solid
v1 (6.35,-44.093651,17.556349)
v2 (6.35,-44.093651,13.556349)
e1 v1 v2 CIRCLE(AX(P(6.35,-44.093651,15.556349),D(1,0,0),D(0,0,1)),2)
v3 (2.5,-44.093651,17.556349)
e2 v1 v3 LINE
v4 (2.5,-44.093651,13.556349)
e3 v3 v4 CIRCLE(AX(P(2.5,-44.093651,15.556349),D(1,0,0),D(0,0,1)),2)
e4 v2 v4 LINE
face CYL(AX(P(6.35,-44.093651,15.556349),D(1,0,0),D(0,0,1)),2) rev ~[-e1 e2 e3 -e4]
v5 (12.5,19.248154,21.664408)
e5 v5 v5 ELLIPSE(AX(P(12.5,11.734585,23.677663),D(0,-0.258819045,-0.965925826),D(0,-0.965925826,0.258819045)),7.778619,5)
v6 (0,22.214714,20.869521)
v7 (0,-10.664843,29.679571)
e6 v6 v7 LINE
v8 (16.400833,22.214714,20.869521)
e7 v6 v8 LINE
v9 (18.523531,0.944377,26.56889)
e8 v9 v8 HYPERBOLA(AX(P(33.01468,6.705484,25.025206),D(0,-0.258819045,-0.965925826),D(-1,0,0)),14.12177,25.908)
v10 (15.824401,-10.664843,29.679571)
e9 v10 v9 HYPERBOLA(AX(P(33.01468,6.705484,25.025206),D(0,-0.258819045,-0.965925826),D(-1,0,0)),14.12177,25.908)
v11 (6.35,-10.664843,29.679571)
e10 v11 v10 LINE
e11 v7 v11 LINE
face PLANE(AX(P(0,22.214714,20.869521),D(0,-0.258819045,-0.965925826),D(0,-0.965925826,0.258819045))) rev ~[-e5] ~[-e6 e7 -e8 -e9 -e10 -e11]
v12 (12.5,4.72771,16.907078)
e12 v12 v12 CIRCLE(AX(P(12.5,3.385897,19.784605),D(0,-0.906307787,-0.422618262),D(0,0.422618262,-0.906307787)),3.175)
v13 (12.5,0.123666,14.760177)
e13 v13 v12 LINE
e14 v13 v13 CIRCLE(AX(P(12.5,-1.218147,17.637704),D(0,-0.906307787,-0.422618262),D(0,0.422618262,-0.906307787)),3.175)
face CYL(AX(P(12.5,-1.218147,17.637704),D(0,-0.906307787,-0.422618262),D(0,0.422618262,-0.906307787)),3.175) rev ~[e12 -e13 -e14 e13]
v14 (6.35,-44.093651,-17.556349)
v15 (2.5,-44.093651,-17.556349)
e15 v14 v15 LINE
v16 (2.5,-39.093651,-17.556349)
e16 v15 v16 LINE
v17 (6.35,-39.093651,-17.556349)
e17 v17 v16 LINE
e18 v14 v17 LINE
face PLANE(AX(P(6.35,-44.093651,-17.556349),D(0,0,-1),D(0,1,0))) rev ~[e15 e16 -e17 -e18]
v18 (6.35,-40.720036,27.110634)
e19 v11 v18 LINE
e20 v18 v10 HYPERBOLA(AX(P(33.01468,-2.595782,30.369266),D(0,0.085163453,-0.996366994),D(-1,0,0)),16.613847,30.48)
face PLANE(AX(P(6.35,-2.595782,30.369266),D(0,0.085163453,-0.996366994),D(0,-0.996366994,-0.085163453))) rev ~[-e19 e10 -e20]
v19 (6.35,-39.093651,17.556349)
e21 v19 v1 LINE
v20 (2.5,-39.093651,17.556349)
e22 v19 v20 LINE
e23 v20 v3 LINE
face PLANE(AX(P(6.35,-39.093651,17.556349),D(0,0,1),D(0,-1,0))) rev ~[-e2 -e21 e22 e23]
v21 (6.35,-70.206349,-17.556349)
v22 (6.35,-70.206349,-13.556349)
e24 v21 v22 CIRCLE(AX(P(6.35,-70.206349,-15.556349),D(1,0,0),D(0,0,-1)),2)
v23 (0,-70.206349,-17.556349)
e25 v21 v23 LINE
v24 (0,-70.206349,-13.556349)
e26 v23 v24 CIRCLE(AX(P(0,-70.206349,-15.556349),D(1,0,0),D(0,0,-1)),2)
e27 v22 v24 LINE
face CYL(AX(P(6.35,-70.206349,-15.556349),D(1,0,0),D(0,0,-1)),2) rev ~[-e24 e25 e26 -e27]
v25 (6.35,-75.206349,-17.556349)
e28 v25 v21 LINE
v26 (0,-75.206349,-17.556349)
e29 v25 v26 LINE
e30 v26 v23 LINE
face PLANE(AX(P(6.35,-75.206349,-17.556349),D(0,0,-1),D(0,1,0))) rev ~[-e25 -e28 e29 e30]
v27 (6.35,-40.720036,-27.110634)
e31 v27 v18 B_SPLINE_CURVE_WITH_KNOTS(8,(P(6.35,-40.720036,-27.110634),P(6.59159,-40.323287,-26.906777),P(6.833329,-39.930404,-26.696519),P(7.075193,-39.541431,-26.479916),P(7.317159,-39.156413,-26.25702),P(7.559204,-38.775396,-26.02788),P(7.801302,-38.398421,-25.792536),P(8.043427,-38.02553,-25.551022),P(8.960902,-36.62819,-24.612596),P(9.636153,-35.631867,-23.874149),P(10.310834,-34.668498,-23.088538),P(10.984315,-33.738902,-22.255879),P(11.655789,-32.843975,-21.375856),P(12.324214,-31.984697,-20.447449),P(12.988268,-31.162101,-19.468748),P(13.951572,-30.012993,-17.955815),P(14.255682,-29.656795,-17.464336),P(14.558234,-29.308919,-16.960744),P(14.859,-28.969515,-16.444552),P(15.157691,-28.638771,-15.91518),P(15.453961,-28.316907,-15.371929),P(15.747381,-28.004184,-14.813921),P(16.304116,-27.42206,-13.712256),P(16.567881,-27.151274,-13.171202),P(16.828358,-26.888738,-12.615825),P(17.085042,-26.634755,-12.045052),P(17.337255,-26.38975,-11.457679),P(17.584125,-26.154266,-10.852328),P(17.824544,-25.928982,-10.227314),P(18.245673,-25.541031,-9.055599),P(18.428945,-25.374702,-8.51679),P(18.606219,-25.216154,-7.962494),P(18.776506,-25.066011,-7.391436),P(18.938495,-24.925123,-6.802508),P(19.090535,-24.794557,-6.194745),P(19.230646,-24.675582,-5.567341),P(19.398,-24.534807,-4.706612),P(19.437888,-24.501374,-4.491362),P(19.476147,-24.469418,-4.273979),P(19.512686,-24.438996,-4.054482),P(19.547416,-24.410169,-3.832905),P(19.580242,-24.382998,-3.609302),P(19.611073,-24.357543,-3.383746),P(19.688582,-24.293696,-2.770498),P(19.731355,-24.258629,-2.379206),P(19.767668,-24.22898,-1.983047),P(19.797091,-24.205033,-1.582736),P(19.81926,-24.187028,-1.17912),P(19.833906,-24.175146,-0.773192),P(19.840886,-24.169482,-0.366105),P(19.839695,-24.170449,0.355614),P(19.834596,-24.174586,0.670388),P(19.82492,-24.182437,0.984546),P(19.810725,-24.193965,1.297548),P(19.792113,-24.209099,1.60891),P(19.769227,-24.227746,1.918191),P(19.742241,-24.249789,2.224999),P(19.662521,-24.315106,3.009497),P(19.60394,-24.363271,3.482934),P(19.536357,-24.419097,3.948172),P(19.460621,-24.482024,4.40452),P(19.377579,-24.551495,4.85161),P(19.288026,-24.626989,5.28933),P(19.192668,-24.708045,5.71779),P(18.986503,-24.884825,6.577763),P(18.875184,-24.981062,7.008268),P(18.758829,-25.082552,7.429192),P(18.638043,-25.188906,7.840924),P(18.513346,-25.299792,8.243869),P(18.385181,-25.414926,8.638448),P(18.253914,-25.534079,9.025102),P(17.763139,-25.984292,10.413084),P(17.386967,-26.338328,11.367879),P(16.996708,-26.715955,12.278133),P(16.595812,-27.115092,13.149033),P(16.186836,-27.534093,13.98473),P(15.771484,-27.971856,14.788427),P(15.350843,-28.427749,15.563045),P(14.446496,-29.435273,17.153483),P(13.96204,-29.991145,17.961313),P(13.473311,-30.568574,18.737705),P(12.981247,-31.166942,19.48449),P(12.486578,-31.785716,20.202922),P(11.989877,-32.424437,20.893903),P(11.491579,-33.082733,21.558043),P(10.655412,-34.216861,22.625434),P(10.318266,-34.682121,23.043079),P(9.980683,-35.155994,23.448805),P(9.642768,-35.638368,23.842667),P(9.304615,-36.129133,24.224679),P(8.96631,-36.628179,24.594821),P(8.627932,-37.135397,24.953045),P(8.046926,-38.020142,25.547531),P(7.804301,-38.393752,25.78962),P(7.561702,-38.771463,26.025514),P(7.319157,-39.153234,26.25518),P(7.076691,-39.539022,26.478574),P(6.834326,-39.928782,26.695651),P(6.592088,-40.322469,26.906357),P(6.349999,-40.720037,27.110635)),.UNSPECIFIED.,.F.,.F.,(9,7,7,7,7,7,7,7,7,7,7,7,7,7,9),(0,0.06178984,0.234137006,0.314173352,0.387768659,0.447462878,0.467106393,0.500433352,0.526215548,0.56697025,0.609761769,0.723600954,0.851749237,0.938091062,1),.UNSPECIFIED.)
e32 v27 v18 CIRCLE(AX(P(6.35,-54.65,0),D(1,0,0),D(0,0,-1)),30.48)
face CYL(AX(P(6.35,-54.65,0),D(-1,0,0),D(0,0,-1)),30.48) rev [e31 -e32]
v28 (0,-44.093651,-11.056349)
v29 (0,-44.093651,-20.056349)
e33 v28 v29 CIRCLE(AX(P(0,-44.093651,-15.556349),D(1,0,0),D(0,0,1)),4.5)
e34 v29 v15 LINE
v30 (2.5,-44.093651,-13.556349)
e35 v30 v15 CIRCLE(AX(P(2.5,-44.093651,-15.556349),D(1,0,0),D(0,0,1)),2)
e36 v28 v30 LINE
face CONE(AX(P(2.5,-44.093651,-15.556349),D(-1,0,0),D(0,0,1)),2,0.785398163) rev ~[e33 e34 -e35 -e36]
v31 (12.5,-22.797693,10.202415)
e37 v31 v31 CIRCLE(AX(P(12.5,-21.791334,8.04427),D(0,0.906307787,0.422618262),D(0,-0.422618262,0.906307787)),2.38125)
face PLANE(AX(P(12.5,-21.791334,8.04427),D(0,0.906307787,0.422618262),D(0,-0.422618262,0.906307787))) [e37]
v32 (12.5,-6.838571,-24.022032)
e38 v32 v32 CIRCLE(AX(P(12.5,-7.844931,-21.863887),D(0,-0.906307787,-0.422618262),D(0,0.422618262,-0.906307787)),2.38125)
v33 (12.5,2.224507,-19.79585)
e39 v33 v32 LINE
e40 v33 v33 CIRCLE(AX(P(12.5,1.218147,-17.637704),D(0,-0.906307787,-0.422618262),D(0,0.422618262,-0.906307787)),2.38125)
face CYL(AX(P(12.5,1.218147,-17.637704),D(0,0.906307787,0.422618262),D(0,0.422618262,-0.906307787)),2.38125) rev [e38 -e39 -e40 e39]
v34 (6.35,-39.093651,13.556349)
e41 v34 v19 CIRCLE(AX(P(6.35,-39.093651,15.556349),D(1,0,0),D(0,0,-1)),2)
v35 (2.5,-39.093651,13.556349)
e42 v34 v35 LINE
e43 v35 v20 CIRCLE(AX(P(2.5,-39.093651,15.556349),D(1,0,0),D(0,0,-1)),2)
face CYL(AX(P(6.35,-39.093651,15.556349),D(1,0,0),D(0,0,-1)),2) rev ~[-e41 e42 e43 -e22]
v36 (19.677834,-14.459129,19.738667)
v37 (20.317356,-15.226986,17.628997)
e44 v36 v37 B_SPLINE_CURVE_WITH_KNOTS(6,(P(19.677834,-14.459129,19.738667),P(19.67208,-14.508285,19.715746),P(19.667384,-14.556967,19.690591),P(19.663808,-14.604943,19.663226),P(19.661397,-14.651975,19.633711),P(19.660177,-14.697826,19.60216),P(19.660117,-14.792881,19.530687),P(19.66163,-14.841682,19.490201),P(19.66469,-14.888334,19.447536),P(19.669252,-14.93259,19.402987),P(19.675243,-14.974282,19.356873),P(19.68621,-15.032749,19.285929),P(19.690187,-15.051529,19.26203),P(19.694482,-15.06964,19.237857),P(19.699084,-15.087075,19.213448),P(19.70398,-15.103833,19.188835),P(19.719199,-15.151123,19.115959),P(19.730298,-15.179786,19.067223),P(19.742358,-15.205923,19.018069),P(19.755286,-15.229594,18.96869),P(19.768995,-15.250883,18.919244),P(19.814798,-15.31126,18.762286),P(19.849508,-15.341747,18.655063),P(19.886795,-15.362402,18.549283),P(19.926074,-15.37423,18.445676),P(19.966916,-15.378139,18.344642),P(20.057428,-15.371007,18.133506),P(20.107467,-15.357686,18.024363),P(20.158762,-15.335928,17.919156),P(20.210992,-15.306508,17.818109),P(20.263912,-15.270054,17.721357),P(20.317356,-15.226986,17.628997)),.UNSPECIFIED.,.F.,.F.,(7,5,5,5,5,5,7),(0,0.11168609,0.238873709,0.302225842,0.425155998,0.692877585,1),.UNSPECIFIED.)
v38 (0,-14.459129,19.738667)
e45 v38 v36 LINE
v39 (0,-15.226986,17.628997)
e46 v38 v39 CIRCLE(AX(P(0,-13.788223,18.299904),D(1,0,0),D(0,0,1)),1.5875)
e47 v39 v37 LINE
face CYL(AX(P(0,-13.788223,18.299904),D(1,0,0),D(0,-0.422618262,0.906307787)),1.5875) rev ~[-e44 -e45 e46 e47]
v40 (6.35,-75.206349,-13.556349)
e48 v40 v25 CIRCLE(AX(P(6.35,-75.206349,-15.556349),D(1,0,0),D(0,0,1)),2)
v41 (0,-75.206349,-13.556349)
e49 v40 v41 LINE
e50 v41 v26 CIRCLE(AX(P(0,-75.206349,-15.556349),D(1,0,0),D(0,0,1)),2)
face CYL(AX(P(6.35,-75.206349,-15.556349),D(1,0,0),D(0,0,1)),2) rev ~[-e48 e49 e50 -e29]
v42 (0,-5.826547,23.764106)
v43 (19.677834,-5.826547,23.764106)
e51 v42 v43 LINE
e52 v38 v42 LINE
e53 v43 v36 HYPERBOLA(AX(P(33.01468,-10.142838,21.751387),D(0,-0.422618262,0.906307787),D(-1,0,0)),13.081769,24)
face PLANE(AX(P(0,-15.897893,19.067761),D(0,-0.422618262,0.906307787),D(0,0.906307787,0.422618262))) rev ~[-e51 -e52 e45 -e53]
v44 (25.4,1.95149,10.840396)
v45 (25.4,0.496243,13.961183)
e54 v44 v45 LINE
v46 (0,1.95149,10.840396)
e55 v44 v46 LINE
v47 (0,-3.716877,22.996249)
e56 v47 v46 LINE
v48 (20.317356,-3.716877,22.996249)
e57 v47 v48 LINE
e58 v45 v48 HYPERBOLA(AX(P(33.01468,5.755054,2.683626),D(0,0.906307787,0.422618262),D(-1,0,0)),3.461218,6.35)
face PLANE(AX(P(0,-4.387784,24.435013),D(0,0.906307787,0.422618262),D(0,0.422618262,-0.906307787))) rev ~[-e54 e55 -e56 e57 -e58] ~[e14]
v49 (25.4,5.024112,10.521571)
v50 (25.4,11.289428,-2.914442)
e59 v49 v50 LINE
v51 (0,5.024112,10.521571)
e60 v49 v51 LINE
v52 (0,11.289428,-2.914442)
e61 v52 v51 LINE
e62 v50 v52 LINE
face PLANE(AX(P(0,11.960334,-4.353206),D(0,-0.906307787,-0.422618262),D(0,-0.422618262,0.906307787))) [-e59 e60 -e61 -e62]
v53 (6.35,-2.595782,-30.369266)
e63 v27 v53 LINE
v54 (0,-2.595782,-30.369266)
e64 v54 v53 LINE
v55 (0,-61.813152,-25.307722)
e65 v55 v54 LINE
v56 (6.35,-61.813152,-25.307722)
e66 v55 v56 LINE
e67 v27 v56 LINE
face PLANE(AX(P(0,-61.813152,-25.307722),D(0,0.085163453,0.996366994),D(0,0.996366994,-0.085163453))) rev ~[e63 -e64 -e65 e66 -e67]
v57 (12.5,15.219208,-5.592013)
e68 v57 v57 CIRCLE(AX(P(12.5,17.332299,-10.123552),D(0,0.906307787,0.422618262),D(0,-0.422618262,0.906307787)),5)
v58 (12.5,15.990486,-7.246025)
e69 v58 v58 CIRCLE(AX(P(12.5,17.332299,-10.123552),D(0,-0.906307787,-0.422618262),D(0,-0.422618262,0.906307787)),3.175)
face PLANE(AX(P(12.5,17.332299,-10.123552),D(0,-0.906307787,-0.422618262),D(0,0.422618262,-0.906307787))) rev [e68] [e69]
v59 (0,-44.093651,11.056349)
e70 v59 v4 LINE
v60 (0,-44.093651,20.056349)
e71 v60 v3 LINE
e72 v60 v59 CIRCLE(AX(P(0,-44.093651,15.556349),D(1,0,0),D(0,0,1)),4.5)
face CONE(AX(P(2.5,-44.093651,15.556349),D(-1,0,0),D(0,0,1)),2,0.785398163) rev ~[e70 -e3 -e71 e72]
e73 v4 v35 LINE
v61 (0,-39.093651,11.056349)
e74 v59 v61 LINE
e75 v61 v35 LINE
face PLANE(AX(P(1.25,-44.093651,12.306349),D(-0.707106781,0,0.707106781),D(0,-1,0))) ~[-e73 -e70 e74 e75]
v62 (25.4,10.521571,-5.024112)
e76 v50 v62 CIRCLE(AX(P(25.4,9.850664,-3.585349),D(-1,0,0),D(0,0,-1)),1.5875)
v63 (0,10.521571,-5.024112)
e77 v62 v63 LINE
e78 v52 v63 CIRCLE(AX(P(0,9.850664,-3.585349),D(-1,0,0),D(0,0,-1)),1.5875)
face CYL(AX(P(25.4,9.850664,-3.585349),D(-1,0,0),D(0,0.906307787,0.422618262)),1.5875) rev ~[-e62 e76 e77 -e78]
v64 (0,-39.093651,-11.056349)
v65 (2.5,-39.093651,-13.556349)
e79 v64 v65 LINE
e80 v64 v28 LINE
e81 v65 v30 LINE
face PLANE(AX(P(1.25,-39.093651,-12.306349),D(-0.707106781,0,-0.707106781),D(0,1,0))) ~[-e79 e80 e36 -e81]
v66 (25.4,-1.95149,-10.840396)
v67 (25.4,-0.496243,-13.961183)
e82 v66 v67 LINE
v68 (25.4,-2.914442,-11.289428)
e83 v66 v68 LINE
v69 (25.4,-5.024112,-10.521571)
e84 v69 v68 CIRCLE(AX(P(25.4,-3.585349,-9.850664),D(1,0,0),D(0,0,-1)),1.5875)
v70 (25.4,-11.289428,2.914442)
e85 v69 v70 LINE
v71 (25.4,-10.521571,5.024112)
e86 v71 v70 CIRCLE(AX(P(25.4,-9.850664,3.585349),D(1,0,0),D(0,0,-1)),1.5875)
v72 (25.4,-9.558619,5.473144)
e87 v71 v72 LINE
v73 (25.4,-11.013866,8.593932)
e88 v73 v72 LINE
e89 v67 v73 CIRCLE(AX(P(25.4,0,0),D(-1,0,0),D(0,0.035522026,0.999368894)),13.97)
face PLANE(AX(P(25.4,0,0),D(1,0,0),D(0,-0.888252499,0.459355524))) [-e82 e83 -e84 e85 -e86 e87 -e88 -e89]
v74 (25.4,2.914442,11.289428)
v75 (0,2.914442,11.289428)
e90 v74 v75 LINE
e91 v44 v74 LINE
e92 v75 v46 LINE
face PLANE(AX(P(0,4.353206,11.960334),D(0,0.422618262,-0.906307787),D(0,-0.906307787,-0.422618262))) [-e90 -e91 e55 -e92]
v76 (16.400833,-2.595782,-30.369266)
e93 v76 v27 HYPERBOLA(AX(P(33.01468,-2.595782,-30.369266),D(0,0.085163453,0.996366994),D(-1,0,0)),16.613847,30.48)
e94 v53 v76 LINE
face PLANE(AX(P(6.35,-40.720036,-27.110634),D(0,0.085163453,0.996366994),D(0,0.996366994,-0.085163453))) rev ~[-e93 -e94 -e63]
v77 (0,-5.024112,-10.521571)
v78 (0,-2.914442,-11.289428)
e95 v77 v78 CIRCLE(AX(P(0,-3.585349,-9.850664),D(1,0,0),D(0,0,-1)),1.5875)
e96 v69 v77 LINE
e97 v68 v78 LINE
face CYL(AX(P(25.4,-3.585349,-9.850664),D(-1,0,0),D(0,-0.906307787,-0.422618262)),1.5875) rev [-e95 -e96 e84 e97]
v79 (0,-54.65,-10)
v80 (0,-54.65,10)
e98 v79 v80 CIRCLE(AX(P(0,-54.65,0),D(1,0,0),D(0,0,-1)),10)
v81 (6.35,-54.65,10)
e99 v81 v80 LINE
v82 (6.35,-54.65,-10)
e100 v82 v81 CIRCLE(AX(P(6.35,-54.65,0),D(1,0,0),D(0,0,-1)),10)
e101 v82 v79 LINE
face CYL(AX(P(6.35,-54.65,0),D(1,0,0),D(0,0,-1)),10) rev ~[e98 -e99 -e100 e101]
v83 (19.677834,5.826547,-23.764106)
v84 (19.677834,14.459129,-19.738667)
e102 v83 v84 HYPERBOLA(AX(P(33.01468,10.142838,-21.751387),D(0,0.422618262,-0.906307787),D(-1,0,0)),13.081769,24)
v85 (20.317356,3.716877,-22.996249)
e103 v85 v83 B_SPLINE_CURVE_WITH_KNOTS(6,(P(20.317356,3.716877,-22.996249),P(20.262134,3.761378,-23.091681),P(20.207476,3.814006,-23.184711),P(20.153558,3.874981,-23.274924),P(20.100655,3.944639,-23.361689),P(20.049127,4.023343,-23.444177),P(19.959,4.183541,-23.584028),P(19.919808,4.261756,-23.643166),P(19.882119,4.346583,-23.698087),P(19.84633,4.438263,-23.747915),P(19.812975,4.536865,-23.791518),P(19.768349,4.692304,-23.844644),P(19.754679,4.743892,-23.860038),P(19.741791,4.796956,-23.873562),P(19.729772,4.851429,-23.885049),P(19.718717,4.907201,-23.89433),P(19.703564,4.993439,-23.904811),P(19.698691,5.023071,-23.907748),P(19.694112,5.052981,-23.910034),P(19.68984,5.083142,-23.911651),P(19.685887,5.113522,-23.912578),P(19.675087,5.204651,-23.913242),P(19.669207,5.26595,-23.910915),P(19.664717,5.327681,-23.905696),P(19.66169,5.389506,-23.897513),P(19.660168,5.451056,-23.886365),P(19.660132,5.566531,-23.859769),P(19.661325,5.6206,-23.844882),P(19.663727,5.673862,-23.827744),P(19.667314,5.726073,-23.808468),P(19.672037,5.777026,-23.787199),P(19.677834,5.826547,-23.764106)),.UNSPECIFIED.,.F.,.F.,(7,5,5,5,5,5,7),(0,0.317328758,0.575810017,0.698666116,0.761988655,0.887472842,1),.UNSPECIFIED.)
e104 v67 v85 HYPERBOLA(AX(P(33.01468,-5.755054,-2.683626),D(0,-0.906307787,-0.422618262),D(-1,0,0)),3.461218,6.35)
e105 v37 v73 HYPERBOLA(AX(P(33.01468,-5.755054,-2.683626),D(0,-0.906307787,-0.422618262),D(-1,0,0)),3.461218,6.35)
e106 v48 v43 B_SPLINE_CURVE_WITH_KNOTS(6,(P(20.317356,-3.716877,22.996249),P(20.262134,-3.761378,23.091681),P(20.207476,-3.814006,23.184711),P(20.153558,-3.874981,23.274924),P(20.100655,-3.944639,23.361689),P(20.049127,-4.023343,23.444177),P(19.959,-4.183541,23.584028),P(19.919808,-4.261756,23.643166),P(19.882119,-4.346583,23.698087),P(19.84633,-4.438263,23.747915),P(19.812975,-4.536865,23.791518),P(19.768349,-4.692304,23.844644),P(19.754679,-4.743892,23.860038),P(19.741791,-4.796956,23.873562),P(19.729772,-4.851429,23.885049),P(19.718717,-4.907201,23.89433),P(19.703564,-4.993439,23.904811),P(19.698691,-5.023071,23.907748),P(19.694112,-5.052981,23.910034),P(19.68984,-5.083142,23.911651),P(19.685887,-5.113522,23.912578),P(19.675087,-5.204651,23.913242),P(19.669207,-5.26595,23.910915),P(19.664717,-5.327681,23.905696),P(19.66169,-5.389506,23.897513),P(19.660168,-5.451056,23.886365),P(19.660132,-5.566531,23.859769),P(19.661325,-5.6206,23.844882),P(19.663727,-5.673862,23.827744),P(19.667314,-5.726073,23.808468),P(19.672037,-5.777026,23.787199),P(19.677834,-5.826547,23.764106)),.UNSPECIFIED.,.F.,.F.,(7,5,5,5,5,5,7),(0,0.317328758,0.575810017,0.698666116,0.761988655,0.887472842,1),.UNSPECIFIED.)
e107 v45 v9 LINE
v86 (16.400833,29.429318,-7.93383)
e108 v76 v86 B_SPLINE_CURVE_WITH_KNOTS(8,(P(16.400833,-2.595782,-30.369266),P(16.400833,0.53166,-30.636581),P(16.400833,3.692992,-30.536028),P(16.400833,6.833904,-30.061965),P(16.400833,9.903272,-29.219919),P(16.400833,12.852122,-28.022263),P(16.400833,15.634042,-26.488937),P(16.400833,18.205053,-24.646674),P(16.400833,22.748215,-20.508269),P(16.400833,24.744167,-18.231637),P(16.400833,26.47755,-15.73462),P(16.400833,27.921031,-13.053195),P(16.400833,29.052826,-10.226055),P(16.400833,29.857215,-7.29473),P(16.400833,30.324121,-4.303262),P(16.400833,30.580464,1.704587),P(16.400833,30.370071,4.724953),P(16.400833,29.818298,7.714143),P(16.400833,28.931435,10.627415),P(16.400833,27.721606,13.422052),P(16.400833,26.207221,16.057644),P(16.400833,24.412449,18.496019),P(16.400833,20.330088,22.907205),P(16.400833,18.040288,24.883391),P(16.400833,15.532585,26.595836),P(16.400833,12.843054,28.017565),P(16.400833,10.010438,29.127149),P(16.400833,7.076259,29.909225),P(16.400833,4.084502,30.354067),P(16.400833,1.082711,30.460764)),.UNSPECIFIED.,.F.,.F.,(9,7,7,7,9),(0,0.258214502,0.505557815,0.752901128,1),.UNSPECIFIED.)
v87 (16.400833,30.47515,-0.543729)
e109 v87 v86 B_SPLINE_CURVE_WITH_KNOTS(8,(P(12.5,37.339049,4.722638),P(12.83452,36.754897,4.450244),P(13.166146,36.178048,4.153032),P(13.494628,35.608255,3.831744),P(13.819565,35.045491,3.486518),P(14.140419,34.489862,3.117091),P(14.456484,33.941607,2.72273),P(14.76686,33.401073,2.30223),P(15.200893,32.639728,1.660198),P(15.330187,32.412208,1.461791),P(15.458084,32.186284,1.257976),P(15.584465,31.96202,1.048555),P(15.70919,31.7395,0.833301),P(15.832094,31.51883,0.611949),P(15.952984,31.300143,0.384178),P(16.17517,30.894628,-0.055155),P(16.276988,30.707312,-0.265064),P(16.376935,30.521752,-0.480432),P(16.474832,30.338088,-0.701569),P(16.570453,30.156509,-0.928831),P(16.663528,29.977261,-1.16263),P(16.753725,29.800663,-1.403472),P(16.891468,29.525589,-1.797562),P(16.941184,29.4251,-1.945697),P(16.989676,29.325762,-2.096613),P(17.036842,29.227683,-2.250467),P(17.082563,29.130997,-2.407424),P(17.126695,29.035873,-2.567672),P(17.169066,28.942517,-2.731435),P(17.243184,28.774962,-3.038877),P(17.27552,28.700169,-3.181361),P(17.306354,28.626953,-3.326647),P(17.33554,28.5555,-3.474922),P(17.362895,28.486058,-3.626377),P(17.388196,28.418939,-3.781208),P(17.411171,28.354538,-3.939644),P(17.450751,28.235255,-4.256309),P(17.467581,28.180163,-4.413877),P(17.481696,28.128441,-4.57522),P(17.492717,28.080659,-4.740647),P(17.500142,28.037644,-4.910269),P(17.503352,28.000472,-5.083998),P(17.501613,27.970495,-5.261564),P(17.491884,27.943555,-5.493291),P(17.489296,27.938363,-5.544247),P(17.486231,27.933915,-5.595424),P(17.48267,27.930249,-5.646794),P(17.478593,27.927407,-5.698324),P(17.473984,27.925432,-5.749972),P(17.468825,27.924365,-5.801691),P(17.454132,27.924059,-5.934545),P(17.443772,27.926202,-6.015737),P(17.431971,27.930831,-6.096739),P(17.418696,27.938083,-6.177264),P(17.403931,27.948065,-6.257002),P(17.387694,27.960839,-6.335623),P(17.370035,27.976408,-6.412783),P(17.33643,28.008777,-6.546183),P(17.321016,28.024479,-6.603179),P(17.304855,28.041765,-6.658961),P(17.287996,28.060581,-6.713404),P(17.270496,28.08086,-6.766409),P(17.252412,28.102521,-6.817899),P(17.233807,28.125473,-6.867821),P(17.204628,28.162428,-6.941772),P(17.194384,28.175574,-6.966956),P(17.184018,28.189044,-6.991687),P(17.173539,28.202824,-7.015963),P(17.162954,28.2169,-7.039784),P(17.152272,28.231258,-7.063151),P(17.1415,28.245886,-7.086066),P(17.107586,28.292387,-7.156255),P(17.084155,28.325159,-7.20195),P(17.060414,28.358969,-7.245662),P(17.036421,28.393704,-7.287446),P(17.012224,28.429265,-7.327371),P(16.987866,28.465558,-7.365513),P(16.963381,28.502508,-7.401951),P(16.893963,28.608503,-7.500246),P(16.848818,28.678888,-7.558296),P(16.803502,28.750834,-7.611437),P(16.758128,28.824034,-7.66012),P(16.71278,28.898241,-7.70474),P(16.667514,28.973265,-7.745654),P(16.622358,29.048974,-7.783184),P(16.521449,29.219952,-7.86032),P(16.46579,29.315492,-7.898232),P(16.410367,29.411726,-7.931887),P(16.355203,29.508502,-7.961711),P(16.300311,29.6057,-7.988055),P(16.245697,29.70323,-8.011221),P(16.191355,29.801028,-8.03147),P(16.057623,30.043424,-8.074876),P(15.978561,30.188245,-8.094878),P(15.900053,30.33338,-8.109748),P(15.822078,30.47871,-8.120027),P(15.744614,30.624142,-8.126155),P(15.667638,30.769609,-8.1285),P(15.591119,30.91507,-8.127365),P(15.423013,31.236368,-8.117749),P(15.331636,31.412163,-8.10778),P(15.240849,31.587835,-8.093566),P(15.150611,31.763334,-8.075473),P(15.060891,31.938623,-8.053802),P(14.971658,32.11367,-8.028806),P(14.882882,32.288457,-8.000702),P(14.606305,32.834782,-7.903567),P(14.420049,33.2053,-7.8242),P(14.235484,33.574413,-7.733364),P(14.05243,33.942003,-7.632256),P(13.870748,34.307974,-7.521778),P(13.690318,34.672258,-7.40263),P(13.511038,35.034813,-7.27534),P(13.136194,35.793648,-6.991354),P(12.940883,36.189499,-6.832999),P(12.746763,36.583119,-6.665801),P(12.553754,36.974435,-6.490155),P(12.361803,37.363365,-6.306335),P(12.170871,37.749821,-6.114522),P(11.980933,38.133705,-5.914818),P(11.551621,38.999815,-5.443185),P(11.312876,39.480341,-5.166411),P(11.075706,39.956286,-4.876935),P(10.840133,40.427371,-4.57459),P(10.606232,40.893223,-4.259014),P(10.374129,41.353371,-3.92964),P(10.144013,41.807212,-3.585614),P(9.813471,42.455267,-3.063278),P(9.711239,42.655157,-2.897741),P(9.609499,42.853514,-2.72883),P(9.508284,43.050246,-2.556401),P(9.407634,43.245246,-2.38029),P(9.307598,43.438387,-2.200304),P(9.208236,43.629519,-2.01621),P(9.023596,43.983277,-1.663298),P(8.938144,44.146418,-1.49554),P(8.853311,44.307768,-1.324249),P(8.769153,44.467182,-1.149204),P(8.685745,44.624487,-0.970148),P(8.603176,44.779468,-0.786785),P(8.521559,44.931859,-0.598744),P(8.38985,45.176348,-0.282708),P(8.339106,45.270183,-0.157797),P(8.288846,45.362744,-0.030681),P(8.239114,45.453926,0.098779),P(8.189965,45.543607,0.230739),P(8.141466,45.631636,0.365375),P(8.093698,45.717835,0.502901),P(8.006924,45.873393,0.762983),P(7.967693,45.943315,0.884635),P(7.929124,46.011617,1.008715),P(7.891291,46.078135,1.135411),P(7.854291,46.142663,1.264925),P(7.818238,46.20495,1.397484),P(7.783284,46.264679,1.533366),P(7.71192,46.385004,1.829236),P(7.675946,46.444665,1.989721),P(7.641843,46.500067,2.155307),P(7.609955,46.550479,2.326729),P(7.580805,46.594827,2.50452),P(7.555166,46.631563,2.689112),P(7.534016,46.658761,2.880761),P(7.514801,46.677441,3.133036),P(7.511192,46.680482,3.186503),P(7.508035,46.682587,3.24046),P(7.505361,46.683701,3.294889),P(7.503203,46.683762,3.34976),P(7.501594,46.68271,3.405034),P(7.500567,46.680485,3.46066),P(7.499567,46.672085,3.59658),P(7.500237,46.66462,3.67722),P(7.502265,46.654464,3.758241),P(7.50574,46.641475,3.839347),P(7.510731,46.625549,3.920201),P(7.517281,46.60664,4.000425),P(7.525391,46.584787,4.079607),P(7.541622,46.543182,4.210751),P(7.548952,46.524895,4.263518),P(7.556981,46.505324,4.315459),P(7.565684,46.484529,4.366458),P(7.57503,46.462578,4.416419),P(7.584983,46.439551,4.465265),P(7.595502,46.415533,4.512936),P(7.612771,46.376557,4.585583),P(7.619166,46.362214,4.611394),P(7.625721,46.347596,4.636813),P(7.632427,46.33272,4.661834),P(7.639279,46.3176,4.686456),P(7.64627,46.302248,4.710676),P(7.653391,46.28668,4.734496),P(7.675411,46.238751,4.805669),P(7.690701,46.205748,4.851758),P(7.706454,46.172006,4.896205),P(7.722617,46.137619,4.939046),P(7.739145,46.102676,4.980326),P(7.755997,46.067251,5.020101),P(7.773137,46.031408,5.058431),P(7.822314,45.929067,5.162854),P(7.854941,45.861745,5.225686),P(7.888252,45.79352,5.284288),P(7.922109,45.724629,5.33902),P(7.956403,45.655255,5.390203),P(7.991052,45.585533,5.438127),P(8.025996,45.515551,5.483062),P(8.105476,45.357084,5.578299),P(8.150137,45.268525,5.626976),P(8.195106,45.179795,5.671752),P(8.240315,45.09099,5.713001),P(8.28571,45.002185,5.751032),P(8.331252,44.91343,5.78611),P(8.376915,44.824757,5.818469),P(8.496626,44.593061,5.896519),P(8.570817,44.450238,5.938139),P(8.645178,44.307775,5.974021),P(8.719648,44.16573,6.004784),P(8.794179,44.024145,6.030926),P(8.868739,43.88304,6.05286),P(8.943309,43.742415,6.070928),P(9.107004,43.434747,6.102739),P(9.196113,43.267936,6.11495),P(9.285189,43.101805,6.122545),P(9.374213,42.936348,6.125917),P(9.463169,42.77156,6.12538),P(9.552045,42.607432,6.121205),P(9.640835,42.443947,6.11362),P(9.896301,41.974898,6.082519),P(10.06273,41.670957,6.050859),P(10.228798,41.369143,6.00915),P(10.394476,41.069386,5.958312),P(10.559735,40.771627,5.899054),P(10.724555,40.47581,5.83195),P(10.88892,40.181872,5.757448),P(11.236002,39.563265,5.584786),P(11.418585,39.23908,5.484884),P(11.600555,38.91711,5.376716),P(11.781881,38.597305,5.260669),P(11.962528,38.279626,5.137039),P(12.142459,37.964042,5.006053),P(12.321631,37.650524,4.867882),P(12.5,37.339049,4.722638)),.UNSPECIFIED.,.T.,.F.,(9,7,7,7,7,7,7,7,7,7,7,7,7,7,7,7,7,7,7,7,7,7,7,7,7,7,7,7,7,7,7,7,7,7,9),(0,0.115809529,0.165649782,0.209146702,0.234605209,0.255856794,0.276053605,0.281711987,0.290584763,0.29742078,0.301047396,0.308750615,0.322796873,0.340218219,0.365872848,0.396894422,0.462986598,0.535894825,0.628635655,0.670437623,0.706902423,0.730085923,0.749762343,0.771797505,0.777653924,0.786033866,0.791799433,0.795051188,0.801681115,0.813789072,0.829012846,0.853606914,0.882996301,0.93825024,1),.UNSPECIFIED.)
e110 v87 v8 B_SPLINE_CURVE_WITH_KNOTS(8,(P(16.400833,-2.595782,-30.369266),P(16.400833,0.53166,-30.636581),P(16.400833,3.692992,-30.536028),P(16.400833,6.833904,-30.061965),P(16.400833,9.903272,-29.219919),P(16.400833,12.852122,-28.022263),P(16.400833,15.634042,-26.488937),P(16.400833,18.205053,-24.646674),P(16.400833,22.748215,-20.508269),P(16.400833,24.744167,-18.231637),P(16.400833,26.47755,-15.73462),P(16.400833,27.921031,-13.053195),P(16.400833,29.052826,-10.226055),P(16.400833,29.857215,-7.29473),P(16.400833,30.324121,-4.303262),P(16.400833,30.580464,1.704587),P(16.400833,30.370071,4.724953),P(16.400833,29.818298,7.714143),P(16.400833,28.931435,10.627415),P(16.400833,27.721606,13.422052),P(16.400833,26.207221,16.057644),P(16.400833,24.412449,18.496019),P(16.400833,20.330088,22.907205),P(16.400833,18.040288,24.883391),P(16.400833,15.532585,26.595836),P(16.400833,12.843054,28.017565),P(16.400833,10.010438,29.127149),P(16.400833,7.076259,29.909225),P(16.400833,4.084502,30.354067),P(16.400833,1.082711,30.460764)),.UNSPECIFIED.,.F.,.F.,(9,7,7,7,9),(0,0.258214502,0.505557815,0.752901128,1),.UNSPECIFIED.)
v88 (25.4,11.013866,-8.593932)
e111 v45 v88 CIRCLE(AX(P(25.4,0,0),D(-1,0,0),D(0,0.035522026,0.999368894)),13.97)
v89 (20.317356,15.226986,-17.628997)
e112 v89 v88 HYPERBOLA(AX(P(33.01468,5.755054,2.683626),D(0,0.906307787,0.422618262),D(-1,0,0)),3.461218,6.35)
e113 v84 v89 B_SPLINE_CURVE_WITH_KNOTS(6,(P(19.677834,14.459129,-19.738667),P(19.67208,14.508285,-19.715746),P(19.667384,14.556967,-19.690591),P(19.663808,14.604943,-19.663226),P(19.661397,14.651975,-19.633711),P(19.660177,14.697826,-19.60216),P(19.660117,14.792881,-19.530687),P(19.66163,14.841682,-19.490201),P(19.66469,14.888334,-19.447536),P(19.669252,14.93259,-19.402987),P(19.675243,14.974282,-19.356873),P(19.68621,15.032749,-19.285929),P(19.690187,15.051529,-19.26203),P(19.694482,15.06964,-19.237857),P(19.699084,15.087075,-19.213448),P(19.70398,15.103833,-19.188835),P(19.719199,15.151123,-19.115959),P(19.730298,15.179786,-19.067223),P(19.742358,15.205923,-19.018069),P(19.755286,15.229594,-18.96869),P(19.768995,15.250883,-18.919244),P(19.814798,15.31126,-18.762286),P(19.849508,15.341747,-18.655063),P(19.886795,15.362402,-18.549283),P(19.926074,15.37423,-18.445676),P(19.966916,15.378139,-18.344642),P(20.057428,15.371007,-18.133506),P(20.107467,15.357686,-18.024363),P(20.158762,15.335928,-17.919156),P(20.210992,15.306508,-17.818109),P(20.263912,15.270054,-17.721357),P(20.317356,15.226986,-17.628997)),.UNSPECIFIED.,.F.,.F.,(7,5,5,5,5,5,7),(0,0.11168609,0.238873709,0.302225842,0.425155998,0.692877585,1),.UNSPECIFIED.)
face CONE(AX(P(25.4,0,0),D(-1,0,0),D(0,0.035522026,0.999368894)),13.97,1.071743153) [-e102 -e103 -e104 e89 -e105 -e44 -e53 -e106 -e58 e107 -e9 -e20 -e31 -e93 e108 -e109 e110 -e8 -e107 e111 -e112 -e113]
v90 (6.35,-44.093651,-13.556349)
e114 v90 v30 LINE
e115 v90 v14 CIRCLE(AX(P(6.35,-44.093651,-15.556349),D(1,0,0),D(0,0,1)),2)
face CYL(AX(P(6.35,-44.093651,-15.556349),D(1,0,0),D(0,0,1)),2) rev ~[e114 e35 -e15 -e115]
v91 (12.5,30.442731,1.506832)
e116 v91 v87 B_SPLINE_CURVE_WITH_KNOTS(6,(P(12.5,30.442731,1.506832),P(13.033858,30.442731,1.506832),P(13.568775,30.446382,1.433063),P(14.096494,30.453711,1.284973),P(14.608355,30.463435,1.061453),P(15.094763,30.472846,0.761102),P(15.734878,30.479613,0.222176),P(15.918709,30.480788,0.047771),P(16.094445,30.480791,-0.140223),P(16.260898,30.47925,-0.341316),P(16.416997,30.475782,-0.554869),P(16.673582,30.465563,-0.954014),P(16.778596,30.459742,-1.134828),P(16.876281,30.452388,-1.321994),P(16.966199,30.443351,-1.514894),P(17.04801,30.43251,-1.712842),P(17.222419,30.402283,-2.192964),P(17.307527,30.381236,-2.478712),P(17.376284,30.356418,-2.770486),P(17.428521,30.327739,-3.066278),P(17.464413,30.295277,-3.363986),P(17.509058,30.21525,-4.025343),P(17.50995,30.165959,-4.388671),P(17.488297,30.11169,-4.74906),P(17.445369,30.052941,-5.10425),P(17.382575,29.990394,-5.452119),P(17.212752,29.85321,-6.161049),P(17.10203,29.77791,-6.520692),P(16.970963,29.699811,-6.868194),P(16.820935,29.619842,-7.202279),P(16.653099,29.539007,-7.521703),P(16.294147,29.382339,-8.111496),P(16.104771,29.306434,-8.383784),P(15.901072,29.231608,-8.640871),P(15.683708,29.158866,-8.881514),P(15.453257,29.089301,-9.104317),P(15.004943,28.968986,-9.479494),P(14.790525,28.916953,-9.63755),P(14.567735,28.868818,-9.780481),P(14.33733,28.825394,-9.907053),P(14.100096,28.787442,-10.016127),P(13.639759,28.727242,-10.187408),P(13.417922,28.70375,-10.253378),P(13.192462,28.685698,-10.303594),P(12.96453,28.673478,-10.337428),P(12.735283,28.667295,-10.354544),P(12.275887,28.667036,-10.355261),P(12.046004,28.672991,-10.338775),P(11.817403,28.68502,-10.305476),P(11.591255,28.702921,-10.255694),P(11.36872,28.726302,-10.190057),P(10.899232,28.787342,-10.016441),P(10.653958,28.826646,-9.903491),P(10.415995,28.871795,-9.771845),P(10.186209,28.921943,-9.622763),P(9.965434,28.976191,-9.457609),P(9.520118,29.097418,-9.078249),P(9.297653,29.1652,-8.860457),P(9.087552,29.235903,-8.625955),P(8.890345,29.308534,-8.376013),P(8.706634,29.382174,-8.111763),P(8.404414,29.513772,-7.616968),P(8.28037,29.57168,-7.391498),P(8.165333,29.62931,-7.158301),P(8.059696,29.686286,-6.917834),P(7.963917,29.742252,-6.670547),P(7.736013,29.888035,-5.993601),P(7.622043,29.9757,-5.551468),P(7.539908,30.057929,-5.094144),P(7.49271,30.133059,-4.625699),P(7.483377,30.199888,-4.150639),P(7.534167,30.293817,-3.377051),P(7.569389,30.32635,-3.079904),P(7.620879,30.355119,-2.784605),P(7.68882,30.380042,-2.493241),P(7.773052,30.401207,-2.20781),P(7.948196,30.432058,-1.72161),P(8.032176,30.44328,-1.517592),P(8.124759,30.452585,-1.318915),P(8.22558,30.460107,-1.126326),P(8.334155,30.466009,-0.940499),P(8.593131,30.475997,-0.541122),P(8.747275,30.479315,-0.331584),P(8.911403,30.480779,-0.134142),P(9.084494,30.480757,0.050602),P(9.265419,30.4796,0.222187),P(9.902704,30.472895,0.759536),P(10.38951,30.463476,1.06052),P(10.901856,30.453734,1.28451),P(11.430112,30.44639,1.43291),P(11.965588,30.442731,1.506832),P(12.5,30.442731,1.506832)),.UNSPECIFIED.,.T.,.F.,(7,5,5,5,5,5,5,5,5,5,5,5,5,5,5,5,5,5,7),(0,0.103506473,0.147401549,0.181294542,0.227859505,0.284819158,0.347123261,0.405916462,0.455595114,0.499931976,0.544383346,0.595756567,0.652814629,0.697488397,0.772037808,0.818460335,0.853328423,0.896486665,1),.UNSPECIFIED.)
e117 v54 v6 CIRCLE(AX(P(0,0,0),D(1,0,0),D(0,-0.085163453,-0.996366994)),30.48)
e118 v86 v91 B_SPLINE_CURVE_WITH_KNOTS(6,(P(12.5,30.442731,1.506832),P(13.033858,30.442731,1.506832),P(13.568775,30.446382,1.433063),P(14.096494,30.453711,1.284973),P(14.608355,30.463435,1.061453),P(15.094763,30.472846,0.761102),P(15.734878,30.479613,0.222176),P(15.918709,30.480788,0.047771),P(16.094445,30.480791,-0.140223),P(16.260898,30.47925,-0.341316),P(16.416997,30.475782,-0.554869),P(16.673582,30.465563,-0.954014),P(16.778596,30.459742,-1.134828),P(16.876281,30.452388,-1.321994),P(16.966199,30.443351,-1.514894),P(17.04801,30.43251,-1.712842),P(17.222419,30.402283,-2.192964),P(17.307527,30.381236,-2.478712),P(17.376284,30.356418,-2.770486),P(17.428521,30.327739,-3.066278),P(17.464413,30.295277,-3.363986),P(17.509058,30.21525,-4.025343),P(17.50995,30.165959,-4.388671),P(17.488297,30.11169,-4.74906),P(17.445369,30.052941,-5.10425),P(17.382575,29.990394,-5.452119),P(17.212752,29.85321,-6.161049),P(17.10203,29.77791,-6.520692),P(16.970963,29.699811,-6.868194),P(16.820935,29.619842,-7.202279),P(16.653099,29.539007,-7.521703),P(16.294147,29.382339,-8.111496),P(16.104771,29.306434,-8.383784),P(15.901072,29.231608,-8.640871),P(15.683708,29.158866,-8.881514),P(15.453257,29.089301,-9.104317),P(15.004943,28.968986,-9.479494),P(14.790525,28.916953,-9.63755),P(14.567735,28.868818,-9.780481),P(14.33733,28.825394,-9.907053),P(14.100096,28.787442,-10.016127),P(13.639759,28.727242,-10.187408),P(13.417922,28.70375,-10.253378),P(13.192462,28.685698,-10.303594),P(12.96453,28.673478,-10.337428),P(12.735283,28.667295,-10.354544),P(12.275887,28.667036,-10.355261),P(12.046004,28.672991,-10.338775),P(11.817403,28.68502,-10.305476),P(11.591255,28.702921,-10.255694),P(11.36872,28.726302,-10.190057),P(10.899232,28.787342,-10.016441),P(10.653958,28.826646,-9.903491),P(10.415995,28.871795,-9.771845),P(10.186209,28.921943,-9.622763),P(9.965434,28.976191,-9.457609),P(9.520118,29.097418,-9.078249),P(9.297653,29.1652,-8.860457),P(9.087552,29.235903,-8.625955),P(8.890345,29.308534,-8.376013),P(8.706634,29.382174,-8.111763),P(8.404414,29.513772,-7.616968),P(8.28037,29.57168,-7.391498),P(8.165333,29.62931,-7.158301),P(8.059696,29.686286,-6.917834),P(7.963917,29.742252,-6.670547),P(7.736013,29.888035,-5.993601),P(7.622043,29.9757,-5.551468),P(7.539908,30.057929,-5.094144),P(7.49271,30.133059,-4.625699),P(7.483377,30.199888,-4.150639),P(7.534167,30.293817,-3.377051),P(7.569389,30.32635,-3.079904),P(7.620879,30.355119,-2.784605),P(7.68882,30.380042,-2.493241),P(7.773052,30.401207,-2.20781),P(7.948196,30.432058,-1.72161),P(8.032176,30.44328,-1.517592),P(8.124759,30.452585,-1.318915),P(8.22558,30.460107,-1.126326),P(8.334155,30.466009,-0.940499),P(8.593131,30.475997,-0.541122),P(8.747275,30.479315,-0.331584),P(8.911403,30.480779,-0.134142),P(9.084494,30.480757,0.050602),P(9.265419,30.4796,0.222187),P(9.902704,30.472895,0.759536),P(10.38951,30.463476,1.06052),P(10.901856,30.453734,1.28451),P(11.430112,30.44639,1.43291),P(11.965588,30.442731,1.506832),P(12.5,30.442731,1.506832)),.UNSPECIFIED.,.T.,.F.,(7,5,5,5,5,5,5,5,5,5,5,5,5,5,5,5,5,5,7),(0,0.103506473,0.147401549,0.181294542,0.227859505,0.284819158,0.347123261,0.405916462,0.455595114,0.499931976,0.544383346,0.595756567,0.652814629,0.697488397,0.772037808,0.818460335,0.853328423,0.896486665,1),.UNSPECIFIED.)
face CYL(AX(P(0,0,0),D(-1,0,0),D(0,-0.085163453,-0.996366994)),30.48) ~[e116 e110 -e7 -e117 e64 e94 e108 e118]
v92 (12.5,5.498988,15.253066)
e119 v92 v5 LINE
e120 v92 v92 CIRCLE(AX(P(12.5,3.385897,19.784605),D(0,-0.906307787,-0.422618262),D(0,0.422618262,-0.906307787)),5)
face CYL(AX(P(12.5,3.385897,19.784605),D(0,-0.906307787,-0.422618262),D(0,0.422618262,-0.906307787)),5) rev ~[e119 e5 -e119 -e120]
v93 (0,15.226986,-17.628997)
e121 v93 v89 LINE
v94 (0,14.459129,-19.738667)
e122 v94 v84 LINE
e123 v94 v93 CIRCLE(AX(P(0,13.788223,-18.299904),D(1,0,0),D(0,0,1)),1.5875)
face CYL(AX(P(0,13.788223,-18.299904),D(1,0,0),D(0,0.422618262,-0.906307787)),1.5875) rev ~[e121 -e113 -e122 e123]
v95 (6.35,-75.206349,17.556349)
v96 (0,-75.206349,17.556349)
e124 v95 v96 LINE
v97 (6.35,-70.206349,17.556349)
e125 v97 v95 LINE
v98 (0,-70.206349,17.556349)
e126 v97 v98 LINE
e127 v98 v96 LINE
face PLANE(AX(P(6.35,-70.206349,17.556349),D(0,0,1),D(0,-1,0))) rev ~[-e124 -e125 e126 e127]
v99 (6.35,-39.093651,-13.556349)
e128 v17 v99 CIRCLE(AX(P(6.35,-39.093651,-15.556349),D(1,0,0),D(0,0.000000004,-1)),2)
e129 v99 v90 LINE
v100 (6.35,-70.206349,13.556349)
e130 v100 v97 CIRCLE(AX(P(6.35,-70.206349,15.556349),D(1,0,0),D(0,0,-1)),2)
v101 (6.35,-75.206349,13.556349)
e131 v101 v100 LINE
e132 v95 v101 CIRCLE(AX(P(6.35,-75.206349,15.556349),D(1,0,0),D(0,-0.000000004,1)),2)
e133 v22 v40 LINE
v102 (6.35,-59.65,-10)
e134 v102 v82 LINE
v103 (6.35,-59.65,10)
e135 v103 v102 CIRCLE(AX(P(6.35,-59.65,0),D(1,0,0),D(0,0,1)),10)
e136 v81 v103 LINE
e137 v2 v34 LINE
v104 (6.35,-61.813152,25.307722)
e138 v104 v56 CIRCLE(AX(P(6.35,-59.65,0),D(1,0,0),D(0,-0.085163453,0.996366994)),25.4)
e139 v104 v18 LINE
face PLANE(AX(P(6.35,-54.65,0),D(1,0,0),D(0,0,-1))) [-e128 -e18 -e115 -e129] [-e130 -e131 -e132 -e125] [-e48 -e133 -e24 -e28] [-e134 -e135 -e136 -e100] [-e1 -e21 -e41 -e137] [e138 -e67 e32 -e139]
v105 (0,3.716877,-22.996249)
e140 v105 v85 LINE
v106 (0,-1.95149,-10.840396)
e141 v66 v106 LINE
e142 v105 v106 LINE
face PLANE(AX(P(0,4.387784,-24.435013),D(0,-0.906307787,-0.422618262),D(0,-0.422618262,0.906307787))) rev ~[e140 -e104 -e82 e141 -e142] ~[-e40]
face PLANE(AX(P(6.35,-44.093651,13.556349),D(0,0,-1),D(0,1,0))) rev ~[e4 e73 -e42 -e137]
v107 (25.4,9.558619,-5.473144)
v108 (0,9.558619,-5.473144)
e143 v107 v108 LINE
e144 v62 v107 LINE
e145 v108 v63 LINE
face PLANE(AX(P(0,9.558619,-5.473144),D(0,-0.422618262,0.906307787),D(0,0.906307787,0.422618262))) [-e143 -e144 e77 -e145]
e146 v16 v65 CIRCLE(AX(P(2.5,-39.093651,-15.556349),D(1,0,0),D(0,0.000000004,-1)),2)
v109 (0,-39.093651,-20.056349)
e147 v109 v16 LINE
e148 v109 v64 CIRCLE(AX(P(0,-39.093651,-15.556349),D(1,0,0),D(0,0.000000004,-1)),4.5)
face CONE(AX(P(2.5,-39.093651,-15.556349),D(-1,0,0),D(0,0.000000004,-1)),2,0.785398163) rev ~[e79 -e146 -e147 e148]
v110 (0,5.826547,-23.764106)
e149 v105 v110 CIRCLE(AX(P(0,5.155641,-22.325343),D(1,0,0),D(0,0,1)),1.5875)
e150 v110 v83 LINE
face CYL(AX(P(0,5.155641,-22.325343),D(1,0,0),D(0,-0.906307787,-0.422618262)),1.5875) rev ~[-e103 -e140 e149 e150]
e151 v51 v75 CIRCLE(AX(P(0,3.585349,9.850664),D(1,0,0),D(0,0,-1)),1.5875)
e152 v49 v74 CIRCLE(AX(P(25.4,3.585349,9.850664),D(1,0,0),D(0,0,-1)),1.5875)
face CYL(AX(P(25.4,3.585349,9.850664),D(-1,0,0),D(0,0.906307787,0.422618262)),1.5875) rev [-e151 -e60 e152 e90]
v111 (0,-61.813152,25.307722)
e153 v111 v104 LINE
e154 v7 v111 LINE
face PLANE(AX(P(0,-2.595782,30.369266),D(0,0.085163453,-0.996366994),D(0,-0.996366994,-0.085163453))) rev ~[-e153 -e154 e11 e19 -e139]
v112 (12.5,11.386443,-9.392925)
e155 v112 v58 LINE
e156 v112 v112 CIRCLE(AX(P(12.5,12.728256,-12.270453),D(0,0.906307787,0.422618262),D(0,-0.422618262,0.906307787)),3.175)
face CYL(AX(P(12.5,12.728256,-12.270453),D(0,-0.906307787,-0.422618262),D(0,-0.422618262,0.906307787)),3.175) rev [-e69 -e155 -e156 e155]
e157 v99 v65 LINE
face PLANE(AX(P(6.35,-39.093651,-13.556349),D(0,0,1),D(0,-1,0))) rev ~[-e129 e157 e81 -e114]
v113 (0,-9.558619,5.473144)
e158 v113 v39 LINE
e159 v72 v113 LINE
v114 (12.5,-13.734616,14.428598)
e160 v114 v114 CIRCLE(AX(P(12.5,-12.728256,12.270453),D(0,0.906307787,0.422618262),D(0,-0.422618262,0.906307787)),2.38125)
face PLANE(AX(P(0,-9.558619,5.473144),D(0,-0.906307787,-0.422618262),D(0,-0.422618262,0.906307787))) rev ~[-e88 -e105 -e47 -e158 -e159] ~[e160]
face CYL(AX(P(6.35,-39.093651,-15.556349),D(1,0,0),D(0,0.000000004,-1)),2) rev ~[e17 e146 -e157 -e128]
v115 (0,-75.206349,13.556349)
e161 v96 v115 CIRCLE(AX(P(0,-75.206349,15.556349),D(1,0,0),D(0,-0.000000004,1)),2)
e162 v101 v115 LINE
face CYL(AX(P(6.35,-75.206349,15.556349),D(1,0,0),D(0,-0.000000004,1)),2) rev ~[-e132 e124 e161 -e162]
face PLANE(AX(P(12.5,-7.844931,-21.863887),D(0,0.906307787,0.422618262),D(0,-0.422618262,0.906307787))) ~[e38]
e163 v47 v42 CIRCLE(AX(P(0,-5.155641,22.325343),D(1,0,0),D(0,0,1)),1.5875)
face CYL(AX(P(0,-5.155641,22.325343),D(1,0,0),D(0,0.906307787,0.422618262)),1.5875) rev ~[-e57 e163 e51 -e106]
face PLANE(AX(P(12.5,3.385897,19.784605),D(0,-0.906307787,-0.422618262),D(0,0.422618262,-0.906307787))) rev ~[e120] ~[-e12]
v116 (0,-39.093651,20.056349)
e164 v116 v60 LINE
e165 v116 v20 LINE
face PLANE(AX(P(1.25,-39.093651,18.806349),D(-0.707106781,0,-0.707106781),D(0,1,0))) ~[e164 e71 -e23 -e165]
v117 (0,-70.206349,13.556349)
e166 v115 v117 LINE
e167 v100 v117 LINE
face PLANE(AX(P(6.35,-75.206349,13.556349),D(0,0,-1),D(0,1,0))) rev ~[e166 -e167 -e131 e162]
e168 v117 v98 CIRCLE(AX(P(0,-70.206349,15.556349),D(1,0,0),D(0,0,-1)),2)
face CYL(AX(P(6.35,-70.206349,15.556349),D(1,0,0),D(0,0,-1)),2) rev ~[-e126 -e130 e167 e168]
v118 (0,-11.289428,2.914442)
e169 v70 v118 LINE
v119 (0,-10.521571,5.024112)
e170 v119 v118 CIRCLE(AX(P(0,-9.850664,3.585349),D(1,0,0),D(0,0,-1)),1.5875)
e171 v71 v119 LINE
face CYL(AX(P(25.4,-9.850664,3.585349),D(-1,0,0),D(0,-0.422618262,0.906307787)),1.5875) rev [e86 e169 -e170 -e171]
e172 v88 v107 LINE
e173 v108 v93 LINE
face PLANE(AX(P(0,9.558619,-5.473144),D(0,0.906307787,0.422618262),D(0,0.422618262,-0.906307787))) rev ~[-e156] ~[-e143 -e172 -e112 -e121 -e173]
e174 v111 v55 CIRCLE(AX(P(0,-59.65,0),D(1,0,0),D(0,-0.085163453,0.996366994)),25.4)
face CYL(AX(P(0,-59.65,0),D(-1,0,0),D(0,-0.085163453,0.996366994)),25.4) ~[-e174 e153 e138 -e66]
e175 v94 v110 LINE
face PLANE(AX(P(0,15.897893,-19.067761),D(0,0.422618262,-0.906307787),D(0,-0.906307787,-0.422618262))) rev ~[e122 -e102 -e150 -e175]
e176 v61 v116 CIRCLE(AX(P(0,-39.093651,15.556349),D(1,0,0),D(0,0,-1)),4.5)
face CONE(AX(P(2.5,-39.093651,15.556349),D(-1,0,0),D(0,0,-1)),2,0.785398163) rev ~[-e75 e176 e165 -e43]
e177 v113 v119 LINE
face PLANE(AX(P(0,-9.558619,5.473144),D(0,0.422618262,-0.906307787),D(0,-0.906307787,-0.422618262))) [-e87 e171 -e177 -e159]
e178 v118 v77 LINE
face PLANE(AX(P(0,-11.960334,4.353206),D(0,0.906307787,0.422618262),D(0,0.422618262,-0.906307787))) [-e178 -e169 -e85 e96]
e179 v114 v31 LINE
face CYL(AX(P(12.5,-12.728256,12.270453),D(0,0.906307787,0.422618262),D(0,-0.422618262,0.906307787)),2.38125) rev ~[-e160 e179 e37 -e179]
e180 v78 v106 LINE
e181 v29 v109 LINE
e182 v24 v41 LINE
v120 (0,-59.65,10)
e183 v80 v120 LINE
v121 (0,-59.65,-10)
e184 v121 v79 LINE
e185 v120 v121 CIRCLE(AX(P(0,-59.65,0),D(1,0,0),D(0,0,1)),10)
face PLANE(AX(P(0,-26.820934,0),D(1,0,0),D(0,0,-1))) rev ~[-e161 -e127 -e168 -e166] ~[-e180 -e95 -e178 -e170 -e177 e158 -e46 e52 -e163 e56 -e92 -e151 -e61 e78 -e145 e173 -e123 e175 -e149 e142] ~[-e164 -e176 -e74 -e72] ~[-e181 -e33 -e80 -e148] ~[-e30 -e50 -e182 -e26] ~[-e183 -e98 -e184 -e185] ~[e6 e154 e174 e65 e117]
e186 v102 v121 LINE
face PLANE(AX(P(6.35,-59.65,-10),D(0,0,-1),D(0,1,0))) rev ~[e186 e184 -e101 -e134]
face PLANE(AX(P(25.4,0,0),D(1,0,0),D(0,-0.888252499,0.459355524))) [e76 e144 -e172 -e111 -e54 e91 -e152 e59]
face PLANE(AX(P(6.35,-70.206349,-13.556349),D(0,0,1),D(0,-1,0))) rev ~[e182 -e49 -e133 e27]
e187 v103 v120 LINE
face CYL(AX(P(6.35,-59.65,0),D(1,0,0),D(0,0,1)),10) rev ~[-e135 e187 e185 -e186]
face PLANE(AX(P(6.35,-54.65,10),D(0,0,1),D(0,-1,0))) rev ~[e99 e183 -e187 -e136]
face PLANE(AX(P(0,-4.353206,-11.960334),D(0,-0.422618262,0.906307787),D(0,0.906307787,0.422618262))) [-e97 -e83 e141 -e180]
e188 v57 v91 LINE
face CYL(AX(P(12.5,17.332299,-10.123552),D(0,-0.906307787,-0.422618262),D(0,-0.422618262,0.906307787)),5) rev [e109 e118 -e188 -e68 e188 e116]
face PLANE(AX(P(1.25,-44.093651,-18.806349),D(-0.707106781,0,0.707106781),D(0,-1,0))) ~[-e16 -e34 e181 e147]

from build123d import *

# Parameters (mm, degrees)
BOSS_EXTRUDE1_DEPTH = 6.35
CUT_EXTRUDE18_DEPTH = 10
SKETCH20_R          = 57.15
BOSS_EXTRUDE5_DEPTH = 19.05
CUT_EXTRUDE14_DEPTH = 106.568863781
SKETCH22_R          = 3.175
CUT_EXTRUDE15_DEPTH = 112.672649781
SKETCH24_R          = 5
CUT_EXTRUDE16_DEPTH = 117.574618566
SKETCH25_R          = 2.38125
CUT_EXTRUDE17_DEPTH = 10
CHAMFER2_SIZE       = 2.5
FILLET1_R           = 1.5875
SKETCH28_R          = 30.48
CUT_EXTRUDE19_DEPTH = 105.22344993
CUT_EXTRUDE20_DEPTH = 100.947550226
CUT_EXTRUDE21_DEPTH = 94.849309593


with BuildPart() as part:
    # Sketch1 → Boss-Extrude1 (new body)
    with BuildSketch(Plane(origin=(0, 0, 0), x_dir=(0, 0, -1), z_dir=(1, 0, 0))):
        with BuildLine():
            Line((-30.369265969, -2.595782062), (-25.307721641, -61.813151718))
            ThreePointArc((-25.307721641, -61.813151718), (0, -85.05), (25.307721641, -61.813151718))
            Line((25.307721641, -61.813151718), (30.369265969, -2.595782062))
            ThreePointArc((30.369265969, -2.595782062), (0, 30.48), (-30.369265969, -2.595782062))
        make_face()
        Polygon((4.353205728, 11.960334439), (-11.960334439, 4.353205728), (-4.353205728, -11.960334439), (11.960334439, -4.353205728), align=None, mode=Mode.SUBTRACT)
    extrude(amount=BOSS_EXTRUDE1_DEPTH)

    # Sketch19 → Cut-Extrude18 (cut)
    with BuildSketch(Plane(origin=(6.35, 0, 0), x_dir=(0, 0, -1), z_dir=(1, 0, 0))):
        with BuildLine():
            Line((13.556349186, -39.093650814), (13.556349186, -44.093650814))
            ThreePointArc((13.556349186, -44.093650814), (15.556349186, -46.093650814), (17.556349186, -44.093650814))
            Line((17.556349186, -44.093650814), (17.556349186, -39.093650806))
            ThreePointArc((17.556349186, -39.093650806), (15.556349182, -37.093650814), (13.556349186, -39.093650814))
        make_face()
        with BuildLine():
            Line((-10, -54.65), (-10, -59.65))
            ThreePointArc((-10, -59.65), (0, -69.65), (10, -59.65))
            Line((10, -59.65), (10, -54.65))
            ThreePointArc((10, -54.65), (0, -44.65), (-10, -54.65))
        make_face()
        with BuildLine():
            Line((17.556349186, -75.206349194), (17.556349186, -70.206349186))
            ThreePointArc((17.556349186, -70.206349186), (15.556349186, -68.206349186), (13.556349186, -70.206349186))
            Line((13.556349186, -70.206349186), (13.556349186, -75.206349186))
            ThreePointArc((13.556349186, -75.206349186), (15.556349182, -77.206349186), (17.556349186, -75.206349194))
        make_face()
        with BuildLine():
            Line((-17.556349186, -39.093650806), (-17.556349186, -44.093650814))
            ThreePointArc((-17.556349186, -44.093650814), (-15.556349186, -46.093650814), (-13.556349186, -44.093650814))
            Line((-13.556349186, -44.093650814), (-13.556349186, -39.093650814))
            ThreePointArc((-13.556349186, -39.093650814), (-15.556349182, -37.093650814), (-17.556349186, -39.093650806))
        make_face()
        with BuildLine():
            Line((-13.556349186, -75.206349186), (-13.556349186, -70.206349186))
            ThreePointArc((-13.556349186, -70.206349186), (-15.556349186, -68.206349186), (-17.556349186, -70.206349186))
            Line((-17.556349186, -70.206349186), (-17.556349186, -75.206349194))
            ThreePointArc((-17.556349186, -75.206349194), (-15.556349182, -77.206349186), (-13.556349186, -75.206349186))
        make_face()
    extrude(amount=-CUT_EXTRUDE18_DEPTH, mode=Mode.SUBTRACT)

    # Sketch20 → Boss-Extrude5 (add)
    with BuildSketch(Plane(origin=(6.35, 0, 0), x_dir=(0, 0, -1), z_dir=(1, 0, 0))):
        with Locations(Location((0, 0, 0), (0, 0, 242.654471511))):
            Circle(SKETCH20_R)
    extrude(amount=BOSS_EXTRUDE5_DEPTH)

    # Sketch21 → Cut-Extrude14 (cut, through all)
    with BuildSketch(Plane.ZY):
        Polygon((-19.067760927, 15.897892729), (-24.435012851, 4.387783834), (-10.840396045, -1.951490092), (-5.473144121, 9.558618803), align=None)
        Polygon((-11.960334439, -4.353205728), (-4.353205728, 11.960334439), (11.960334439, 4.353205728), (4.353205728, -11.960334439), align=None)
        Polygon((10.840396045, 1.951490092), (5.473144121, -9.558618803), (19.067760927, -15.897892729), (24.435012851, -4.387783834), align=None)
    extrude(amount=-CUT_EXTRUDE14_DEPTH, mode=Mode.SUBTRACT)

    # Sketch22 → Cut-Extrude15 (cut, through all)
    with BuildSketch(Plane(origin=(0, 5.755054448, 2.683625962), x_dir=(-1, 0, 0), z_dir=(0, -0.9063077870366495, -0.4226182617407005))):
        with Locations(Location((-12.5, -16.5, 0), (0, 0, 90))):
            Circle(SKETCH22_R)
    cut_extrude15 = extrude(amount=-CUT_EXTRUDE15_DEPTH, mode=Mode.SUBTRACT)

    # Sketch24 → Cut-Extrude16 (cut, through all)
    with BuildSketch(Plane(origin=(0, 10.359098006, 4.830526732), x_dir=(-1, 0, 0), z_dir=(0, -0.9063077870366495, -0.4226182617407005))):
        with Locations(Location((-12.5, -16.5, 0), (0, 0, 90))):
            Circle(SKETCH24_R)
    cut_extrude16 = extrude(amount=-CUT_EXTRUDE16_DEPTH, mode=Mode.SUBTRACT)

    # Sketch25 → Cut-Extrude17 (cut)
    with BuildSketch(Plane(origin=(0, -5.755054448, -2.683625962), x_dir=(1, 0, 0), z_dir=(0, 0.9063077870366495, 0.4226182617407006))):
        with Locations(Location((12.5, -16.5, 0), (0, 0, 270))):
            Circle(SKETCH25_R)
    cut_extrude17 = extrude(amount=-CUT_EXTRUDE17_DEPTH, mode=Mode.SUBTRACT)

    # Mirror1: Cut-Extrude15, Cut-Extrude16, Cut-Extrude17 across plane
    add(cut_extrude15.mirror(Plane(origin=(0, 0, 0), x_dir=(1, 0, 0), z_dir=(0, 0.42261826174070105, -0.9063077870366493))), mode=Mode.SUBTRACT)
    add(cut_extrude16.mirror(Plane(origin=(0, 0, 0), x_dir=(1, 0, 0), z_dir=(0, 0.42261826174070105, -0.9063077870366493))), mode=Mode.SUBTRACT)
    add(cut_extrude17.mirror(Plane(origin=(0, 0, 0), x_dir=(1, 0, 0), z_dir=(0, 0.42261826174070105, -0.9063077870366493))), mode=Mode.SUBTRACT)


with BuildPart() as body_2:
    # Mirror2: mirrored copy
    add(part.part.mirror(Plane(origin=(0, 0, 0), x_dir=(0, 0, 1), z_dir=(1, 0, 0))))


with BuildPart() as part_1:
    add(part.part)

    # Chamfer2
    chamfer2_edges = [part_1.edges().sort_by_distance(p)[0] for p in [
        (0, -41.593650814, 13.556349186),
        (0, -37.093650814, 15.556349182),
        (0, -41.59365081, 17.556349186),
        (0, -46.093650814, 15.556349186),
        (0, -41.59365081, -17.556349186),
        (0, -37.093650814, -15.556349182),
        (0, -41.593650814, -13.556349186),
        (0, -46.093650814, -15.556349186),
    ]]
    chamfer(chamfer2_edges, length=CHAMFER2_SIZE)

    # Fillet1
    fillet1_edges = [part_1.edges().sort_by_distance(p)[0] for p in [
        (12.7, 4.387783834, -24.435012851),
        (12.7, 15.897892729, -19.067760927),
        (12.7, -4.387783834, 24.435012851),
        (12.7, -15.897892729, 19.067760927),
        (12.7, 11.960334439, -4.353205728),
        (12.7, 4.353205728, 11.960334439),
        (12.7, -11.960334439, 4.353205728),
        (12.7, -4.353205728, -11.960334439),
    ]]
    fillet(fillet1_edges, radius=FILLET1_R)

    # Sketch28 → Cut-Extrude19 (cut, through all)
    with BuildSketch(Plane(origin=(6.35, 0, 0), x_dir=(0, 0, -1), z_dir=(1, 0, 0))):
        with Locations((0, -54.65)):
            Circle(SKETCH28_R)
    extrude(amount=CUT_EXTRUDE19_DEPTH, mode=Mode.SUBTRACT)

    # Sketch31 → Cut-Revolve1 (revolve, cut)
    with BuildSketch(Plane(origin=(0, 0, 0), x_dir=(1, 0, 0), z_dir=(0, 1, 0)), mode=Mode.PRIVATE) as cut_revolve1_sk:
        Polygon((6.35, -59.952108656), (25.4, -59.952108656), (25.4, -13.97), (6.35, -48.91940088), align=None)
    revolve(cut_revolve1_sk.sketch.rotate(Axis((25.4, 0, 0), (-1, 0, 0)), 2.035690426), axis=Axis((25.4, 0, 0), (-1, 0, 0)), mode=Mode.SUBTRACT)

    # Sketch32 → Cut-Extrude20 (cut, through all)
    with BuildSketch(Plane.ZY.offset(-6.35)):
        with BuildLine():
            Line((30.369265969, -2.595782062), (27.110634253, -40.720035521))
            ThreePointArc((27.110634253, -40.720035521), (0, 48.91940088), (-27.110634253, -40.720035521))
            Line((-27.110634253, -40.720035521), (-30.369265969, -2.595782062))
            ThreePointArc((-30.369265969, -2.595782062), (0, 30.48), (30.369265969, -2.595782062))
        make_face()
    extrude(amount=-CUT_EXTRUDE20_DEPTH, mode=Mode.SUBTRACT)

    # Sketch33 → Cut-Extrude21 (cut, through all)
    with BuildSketch(Plane.ZY):
        with BuildLine():
            Line((29.679571242, -10.664842593), (30.369265969, -2.595782062))
            ThreePointArc((30.369265969, -2.595782062), (28.464776298, 10.898940787), (20.869520673, 22.214713747))
            Line((20.869520673, 22.214713747), (29.679571242, -10.664842593))
        make_face()
    extrude(amount=-CUT_EXTRUDE21_DEPTH, mode=Mode.SUBTRACT)


solid = part_1.part
